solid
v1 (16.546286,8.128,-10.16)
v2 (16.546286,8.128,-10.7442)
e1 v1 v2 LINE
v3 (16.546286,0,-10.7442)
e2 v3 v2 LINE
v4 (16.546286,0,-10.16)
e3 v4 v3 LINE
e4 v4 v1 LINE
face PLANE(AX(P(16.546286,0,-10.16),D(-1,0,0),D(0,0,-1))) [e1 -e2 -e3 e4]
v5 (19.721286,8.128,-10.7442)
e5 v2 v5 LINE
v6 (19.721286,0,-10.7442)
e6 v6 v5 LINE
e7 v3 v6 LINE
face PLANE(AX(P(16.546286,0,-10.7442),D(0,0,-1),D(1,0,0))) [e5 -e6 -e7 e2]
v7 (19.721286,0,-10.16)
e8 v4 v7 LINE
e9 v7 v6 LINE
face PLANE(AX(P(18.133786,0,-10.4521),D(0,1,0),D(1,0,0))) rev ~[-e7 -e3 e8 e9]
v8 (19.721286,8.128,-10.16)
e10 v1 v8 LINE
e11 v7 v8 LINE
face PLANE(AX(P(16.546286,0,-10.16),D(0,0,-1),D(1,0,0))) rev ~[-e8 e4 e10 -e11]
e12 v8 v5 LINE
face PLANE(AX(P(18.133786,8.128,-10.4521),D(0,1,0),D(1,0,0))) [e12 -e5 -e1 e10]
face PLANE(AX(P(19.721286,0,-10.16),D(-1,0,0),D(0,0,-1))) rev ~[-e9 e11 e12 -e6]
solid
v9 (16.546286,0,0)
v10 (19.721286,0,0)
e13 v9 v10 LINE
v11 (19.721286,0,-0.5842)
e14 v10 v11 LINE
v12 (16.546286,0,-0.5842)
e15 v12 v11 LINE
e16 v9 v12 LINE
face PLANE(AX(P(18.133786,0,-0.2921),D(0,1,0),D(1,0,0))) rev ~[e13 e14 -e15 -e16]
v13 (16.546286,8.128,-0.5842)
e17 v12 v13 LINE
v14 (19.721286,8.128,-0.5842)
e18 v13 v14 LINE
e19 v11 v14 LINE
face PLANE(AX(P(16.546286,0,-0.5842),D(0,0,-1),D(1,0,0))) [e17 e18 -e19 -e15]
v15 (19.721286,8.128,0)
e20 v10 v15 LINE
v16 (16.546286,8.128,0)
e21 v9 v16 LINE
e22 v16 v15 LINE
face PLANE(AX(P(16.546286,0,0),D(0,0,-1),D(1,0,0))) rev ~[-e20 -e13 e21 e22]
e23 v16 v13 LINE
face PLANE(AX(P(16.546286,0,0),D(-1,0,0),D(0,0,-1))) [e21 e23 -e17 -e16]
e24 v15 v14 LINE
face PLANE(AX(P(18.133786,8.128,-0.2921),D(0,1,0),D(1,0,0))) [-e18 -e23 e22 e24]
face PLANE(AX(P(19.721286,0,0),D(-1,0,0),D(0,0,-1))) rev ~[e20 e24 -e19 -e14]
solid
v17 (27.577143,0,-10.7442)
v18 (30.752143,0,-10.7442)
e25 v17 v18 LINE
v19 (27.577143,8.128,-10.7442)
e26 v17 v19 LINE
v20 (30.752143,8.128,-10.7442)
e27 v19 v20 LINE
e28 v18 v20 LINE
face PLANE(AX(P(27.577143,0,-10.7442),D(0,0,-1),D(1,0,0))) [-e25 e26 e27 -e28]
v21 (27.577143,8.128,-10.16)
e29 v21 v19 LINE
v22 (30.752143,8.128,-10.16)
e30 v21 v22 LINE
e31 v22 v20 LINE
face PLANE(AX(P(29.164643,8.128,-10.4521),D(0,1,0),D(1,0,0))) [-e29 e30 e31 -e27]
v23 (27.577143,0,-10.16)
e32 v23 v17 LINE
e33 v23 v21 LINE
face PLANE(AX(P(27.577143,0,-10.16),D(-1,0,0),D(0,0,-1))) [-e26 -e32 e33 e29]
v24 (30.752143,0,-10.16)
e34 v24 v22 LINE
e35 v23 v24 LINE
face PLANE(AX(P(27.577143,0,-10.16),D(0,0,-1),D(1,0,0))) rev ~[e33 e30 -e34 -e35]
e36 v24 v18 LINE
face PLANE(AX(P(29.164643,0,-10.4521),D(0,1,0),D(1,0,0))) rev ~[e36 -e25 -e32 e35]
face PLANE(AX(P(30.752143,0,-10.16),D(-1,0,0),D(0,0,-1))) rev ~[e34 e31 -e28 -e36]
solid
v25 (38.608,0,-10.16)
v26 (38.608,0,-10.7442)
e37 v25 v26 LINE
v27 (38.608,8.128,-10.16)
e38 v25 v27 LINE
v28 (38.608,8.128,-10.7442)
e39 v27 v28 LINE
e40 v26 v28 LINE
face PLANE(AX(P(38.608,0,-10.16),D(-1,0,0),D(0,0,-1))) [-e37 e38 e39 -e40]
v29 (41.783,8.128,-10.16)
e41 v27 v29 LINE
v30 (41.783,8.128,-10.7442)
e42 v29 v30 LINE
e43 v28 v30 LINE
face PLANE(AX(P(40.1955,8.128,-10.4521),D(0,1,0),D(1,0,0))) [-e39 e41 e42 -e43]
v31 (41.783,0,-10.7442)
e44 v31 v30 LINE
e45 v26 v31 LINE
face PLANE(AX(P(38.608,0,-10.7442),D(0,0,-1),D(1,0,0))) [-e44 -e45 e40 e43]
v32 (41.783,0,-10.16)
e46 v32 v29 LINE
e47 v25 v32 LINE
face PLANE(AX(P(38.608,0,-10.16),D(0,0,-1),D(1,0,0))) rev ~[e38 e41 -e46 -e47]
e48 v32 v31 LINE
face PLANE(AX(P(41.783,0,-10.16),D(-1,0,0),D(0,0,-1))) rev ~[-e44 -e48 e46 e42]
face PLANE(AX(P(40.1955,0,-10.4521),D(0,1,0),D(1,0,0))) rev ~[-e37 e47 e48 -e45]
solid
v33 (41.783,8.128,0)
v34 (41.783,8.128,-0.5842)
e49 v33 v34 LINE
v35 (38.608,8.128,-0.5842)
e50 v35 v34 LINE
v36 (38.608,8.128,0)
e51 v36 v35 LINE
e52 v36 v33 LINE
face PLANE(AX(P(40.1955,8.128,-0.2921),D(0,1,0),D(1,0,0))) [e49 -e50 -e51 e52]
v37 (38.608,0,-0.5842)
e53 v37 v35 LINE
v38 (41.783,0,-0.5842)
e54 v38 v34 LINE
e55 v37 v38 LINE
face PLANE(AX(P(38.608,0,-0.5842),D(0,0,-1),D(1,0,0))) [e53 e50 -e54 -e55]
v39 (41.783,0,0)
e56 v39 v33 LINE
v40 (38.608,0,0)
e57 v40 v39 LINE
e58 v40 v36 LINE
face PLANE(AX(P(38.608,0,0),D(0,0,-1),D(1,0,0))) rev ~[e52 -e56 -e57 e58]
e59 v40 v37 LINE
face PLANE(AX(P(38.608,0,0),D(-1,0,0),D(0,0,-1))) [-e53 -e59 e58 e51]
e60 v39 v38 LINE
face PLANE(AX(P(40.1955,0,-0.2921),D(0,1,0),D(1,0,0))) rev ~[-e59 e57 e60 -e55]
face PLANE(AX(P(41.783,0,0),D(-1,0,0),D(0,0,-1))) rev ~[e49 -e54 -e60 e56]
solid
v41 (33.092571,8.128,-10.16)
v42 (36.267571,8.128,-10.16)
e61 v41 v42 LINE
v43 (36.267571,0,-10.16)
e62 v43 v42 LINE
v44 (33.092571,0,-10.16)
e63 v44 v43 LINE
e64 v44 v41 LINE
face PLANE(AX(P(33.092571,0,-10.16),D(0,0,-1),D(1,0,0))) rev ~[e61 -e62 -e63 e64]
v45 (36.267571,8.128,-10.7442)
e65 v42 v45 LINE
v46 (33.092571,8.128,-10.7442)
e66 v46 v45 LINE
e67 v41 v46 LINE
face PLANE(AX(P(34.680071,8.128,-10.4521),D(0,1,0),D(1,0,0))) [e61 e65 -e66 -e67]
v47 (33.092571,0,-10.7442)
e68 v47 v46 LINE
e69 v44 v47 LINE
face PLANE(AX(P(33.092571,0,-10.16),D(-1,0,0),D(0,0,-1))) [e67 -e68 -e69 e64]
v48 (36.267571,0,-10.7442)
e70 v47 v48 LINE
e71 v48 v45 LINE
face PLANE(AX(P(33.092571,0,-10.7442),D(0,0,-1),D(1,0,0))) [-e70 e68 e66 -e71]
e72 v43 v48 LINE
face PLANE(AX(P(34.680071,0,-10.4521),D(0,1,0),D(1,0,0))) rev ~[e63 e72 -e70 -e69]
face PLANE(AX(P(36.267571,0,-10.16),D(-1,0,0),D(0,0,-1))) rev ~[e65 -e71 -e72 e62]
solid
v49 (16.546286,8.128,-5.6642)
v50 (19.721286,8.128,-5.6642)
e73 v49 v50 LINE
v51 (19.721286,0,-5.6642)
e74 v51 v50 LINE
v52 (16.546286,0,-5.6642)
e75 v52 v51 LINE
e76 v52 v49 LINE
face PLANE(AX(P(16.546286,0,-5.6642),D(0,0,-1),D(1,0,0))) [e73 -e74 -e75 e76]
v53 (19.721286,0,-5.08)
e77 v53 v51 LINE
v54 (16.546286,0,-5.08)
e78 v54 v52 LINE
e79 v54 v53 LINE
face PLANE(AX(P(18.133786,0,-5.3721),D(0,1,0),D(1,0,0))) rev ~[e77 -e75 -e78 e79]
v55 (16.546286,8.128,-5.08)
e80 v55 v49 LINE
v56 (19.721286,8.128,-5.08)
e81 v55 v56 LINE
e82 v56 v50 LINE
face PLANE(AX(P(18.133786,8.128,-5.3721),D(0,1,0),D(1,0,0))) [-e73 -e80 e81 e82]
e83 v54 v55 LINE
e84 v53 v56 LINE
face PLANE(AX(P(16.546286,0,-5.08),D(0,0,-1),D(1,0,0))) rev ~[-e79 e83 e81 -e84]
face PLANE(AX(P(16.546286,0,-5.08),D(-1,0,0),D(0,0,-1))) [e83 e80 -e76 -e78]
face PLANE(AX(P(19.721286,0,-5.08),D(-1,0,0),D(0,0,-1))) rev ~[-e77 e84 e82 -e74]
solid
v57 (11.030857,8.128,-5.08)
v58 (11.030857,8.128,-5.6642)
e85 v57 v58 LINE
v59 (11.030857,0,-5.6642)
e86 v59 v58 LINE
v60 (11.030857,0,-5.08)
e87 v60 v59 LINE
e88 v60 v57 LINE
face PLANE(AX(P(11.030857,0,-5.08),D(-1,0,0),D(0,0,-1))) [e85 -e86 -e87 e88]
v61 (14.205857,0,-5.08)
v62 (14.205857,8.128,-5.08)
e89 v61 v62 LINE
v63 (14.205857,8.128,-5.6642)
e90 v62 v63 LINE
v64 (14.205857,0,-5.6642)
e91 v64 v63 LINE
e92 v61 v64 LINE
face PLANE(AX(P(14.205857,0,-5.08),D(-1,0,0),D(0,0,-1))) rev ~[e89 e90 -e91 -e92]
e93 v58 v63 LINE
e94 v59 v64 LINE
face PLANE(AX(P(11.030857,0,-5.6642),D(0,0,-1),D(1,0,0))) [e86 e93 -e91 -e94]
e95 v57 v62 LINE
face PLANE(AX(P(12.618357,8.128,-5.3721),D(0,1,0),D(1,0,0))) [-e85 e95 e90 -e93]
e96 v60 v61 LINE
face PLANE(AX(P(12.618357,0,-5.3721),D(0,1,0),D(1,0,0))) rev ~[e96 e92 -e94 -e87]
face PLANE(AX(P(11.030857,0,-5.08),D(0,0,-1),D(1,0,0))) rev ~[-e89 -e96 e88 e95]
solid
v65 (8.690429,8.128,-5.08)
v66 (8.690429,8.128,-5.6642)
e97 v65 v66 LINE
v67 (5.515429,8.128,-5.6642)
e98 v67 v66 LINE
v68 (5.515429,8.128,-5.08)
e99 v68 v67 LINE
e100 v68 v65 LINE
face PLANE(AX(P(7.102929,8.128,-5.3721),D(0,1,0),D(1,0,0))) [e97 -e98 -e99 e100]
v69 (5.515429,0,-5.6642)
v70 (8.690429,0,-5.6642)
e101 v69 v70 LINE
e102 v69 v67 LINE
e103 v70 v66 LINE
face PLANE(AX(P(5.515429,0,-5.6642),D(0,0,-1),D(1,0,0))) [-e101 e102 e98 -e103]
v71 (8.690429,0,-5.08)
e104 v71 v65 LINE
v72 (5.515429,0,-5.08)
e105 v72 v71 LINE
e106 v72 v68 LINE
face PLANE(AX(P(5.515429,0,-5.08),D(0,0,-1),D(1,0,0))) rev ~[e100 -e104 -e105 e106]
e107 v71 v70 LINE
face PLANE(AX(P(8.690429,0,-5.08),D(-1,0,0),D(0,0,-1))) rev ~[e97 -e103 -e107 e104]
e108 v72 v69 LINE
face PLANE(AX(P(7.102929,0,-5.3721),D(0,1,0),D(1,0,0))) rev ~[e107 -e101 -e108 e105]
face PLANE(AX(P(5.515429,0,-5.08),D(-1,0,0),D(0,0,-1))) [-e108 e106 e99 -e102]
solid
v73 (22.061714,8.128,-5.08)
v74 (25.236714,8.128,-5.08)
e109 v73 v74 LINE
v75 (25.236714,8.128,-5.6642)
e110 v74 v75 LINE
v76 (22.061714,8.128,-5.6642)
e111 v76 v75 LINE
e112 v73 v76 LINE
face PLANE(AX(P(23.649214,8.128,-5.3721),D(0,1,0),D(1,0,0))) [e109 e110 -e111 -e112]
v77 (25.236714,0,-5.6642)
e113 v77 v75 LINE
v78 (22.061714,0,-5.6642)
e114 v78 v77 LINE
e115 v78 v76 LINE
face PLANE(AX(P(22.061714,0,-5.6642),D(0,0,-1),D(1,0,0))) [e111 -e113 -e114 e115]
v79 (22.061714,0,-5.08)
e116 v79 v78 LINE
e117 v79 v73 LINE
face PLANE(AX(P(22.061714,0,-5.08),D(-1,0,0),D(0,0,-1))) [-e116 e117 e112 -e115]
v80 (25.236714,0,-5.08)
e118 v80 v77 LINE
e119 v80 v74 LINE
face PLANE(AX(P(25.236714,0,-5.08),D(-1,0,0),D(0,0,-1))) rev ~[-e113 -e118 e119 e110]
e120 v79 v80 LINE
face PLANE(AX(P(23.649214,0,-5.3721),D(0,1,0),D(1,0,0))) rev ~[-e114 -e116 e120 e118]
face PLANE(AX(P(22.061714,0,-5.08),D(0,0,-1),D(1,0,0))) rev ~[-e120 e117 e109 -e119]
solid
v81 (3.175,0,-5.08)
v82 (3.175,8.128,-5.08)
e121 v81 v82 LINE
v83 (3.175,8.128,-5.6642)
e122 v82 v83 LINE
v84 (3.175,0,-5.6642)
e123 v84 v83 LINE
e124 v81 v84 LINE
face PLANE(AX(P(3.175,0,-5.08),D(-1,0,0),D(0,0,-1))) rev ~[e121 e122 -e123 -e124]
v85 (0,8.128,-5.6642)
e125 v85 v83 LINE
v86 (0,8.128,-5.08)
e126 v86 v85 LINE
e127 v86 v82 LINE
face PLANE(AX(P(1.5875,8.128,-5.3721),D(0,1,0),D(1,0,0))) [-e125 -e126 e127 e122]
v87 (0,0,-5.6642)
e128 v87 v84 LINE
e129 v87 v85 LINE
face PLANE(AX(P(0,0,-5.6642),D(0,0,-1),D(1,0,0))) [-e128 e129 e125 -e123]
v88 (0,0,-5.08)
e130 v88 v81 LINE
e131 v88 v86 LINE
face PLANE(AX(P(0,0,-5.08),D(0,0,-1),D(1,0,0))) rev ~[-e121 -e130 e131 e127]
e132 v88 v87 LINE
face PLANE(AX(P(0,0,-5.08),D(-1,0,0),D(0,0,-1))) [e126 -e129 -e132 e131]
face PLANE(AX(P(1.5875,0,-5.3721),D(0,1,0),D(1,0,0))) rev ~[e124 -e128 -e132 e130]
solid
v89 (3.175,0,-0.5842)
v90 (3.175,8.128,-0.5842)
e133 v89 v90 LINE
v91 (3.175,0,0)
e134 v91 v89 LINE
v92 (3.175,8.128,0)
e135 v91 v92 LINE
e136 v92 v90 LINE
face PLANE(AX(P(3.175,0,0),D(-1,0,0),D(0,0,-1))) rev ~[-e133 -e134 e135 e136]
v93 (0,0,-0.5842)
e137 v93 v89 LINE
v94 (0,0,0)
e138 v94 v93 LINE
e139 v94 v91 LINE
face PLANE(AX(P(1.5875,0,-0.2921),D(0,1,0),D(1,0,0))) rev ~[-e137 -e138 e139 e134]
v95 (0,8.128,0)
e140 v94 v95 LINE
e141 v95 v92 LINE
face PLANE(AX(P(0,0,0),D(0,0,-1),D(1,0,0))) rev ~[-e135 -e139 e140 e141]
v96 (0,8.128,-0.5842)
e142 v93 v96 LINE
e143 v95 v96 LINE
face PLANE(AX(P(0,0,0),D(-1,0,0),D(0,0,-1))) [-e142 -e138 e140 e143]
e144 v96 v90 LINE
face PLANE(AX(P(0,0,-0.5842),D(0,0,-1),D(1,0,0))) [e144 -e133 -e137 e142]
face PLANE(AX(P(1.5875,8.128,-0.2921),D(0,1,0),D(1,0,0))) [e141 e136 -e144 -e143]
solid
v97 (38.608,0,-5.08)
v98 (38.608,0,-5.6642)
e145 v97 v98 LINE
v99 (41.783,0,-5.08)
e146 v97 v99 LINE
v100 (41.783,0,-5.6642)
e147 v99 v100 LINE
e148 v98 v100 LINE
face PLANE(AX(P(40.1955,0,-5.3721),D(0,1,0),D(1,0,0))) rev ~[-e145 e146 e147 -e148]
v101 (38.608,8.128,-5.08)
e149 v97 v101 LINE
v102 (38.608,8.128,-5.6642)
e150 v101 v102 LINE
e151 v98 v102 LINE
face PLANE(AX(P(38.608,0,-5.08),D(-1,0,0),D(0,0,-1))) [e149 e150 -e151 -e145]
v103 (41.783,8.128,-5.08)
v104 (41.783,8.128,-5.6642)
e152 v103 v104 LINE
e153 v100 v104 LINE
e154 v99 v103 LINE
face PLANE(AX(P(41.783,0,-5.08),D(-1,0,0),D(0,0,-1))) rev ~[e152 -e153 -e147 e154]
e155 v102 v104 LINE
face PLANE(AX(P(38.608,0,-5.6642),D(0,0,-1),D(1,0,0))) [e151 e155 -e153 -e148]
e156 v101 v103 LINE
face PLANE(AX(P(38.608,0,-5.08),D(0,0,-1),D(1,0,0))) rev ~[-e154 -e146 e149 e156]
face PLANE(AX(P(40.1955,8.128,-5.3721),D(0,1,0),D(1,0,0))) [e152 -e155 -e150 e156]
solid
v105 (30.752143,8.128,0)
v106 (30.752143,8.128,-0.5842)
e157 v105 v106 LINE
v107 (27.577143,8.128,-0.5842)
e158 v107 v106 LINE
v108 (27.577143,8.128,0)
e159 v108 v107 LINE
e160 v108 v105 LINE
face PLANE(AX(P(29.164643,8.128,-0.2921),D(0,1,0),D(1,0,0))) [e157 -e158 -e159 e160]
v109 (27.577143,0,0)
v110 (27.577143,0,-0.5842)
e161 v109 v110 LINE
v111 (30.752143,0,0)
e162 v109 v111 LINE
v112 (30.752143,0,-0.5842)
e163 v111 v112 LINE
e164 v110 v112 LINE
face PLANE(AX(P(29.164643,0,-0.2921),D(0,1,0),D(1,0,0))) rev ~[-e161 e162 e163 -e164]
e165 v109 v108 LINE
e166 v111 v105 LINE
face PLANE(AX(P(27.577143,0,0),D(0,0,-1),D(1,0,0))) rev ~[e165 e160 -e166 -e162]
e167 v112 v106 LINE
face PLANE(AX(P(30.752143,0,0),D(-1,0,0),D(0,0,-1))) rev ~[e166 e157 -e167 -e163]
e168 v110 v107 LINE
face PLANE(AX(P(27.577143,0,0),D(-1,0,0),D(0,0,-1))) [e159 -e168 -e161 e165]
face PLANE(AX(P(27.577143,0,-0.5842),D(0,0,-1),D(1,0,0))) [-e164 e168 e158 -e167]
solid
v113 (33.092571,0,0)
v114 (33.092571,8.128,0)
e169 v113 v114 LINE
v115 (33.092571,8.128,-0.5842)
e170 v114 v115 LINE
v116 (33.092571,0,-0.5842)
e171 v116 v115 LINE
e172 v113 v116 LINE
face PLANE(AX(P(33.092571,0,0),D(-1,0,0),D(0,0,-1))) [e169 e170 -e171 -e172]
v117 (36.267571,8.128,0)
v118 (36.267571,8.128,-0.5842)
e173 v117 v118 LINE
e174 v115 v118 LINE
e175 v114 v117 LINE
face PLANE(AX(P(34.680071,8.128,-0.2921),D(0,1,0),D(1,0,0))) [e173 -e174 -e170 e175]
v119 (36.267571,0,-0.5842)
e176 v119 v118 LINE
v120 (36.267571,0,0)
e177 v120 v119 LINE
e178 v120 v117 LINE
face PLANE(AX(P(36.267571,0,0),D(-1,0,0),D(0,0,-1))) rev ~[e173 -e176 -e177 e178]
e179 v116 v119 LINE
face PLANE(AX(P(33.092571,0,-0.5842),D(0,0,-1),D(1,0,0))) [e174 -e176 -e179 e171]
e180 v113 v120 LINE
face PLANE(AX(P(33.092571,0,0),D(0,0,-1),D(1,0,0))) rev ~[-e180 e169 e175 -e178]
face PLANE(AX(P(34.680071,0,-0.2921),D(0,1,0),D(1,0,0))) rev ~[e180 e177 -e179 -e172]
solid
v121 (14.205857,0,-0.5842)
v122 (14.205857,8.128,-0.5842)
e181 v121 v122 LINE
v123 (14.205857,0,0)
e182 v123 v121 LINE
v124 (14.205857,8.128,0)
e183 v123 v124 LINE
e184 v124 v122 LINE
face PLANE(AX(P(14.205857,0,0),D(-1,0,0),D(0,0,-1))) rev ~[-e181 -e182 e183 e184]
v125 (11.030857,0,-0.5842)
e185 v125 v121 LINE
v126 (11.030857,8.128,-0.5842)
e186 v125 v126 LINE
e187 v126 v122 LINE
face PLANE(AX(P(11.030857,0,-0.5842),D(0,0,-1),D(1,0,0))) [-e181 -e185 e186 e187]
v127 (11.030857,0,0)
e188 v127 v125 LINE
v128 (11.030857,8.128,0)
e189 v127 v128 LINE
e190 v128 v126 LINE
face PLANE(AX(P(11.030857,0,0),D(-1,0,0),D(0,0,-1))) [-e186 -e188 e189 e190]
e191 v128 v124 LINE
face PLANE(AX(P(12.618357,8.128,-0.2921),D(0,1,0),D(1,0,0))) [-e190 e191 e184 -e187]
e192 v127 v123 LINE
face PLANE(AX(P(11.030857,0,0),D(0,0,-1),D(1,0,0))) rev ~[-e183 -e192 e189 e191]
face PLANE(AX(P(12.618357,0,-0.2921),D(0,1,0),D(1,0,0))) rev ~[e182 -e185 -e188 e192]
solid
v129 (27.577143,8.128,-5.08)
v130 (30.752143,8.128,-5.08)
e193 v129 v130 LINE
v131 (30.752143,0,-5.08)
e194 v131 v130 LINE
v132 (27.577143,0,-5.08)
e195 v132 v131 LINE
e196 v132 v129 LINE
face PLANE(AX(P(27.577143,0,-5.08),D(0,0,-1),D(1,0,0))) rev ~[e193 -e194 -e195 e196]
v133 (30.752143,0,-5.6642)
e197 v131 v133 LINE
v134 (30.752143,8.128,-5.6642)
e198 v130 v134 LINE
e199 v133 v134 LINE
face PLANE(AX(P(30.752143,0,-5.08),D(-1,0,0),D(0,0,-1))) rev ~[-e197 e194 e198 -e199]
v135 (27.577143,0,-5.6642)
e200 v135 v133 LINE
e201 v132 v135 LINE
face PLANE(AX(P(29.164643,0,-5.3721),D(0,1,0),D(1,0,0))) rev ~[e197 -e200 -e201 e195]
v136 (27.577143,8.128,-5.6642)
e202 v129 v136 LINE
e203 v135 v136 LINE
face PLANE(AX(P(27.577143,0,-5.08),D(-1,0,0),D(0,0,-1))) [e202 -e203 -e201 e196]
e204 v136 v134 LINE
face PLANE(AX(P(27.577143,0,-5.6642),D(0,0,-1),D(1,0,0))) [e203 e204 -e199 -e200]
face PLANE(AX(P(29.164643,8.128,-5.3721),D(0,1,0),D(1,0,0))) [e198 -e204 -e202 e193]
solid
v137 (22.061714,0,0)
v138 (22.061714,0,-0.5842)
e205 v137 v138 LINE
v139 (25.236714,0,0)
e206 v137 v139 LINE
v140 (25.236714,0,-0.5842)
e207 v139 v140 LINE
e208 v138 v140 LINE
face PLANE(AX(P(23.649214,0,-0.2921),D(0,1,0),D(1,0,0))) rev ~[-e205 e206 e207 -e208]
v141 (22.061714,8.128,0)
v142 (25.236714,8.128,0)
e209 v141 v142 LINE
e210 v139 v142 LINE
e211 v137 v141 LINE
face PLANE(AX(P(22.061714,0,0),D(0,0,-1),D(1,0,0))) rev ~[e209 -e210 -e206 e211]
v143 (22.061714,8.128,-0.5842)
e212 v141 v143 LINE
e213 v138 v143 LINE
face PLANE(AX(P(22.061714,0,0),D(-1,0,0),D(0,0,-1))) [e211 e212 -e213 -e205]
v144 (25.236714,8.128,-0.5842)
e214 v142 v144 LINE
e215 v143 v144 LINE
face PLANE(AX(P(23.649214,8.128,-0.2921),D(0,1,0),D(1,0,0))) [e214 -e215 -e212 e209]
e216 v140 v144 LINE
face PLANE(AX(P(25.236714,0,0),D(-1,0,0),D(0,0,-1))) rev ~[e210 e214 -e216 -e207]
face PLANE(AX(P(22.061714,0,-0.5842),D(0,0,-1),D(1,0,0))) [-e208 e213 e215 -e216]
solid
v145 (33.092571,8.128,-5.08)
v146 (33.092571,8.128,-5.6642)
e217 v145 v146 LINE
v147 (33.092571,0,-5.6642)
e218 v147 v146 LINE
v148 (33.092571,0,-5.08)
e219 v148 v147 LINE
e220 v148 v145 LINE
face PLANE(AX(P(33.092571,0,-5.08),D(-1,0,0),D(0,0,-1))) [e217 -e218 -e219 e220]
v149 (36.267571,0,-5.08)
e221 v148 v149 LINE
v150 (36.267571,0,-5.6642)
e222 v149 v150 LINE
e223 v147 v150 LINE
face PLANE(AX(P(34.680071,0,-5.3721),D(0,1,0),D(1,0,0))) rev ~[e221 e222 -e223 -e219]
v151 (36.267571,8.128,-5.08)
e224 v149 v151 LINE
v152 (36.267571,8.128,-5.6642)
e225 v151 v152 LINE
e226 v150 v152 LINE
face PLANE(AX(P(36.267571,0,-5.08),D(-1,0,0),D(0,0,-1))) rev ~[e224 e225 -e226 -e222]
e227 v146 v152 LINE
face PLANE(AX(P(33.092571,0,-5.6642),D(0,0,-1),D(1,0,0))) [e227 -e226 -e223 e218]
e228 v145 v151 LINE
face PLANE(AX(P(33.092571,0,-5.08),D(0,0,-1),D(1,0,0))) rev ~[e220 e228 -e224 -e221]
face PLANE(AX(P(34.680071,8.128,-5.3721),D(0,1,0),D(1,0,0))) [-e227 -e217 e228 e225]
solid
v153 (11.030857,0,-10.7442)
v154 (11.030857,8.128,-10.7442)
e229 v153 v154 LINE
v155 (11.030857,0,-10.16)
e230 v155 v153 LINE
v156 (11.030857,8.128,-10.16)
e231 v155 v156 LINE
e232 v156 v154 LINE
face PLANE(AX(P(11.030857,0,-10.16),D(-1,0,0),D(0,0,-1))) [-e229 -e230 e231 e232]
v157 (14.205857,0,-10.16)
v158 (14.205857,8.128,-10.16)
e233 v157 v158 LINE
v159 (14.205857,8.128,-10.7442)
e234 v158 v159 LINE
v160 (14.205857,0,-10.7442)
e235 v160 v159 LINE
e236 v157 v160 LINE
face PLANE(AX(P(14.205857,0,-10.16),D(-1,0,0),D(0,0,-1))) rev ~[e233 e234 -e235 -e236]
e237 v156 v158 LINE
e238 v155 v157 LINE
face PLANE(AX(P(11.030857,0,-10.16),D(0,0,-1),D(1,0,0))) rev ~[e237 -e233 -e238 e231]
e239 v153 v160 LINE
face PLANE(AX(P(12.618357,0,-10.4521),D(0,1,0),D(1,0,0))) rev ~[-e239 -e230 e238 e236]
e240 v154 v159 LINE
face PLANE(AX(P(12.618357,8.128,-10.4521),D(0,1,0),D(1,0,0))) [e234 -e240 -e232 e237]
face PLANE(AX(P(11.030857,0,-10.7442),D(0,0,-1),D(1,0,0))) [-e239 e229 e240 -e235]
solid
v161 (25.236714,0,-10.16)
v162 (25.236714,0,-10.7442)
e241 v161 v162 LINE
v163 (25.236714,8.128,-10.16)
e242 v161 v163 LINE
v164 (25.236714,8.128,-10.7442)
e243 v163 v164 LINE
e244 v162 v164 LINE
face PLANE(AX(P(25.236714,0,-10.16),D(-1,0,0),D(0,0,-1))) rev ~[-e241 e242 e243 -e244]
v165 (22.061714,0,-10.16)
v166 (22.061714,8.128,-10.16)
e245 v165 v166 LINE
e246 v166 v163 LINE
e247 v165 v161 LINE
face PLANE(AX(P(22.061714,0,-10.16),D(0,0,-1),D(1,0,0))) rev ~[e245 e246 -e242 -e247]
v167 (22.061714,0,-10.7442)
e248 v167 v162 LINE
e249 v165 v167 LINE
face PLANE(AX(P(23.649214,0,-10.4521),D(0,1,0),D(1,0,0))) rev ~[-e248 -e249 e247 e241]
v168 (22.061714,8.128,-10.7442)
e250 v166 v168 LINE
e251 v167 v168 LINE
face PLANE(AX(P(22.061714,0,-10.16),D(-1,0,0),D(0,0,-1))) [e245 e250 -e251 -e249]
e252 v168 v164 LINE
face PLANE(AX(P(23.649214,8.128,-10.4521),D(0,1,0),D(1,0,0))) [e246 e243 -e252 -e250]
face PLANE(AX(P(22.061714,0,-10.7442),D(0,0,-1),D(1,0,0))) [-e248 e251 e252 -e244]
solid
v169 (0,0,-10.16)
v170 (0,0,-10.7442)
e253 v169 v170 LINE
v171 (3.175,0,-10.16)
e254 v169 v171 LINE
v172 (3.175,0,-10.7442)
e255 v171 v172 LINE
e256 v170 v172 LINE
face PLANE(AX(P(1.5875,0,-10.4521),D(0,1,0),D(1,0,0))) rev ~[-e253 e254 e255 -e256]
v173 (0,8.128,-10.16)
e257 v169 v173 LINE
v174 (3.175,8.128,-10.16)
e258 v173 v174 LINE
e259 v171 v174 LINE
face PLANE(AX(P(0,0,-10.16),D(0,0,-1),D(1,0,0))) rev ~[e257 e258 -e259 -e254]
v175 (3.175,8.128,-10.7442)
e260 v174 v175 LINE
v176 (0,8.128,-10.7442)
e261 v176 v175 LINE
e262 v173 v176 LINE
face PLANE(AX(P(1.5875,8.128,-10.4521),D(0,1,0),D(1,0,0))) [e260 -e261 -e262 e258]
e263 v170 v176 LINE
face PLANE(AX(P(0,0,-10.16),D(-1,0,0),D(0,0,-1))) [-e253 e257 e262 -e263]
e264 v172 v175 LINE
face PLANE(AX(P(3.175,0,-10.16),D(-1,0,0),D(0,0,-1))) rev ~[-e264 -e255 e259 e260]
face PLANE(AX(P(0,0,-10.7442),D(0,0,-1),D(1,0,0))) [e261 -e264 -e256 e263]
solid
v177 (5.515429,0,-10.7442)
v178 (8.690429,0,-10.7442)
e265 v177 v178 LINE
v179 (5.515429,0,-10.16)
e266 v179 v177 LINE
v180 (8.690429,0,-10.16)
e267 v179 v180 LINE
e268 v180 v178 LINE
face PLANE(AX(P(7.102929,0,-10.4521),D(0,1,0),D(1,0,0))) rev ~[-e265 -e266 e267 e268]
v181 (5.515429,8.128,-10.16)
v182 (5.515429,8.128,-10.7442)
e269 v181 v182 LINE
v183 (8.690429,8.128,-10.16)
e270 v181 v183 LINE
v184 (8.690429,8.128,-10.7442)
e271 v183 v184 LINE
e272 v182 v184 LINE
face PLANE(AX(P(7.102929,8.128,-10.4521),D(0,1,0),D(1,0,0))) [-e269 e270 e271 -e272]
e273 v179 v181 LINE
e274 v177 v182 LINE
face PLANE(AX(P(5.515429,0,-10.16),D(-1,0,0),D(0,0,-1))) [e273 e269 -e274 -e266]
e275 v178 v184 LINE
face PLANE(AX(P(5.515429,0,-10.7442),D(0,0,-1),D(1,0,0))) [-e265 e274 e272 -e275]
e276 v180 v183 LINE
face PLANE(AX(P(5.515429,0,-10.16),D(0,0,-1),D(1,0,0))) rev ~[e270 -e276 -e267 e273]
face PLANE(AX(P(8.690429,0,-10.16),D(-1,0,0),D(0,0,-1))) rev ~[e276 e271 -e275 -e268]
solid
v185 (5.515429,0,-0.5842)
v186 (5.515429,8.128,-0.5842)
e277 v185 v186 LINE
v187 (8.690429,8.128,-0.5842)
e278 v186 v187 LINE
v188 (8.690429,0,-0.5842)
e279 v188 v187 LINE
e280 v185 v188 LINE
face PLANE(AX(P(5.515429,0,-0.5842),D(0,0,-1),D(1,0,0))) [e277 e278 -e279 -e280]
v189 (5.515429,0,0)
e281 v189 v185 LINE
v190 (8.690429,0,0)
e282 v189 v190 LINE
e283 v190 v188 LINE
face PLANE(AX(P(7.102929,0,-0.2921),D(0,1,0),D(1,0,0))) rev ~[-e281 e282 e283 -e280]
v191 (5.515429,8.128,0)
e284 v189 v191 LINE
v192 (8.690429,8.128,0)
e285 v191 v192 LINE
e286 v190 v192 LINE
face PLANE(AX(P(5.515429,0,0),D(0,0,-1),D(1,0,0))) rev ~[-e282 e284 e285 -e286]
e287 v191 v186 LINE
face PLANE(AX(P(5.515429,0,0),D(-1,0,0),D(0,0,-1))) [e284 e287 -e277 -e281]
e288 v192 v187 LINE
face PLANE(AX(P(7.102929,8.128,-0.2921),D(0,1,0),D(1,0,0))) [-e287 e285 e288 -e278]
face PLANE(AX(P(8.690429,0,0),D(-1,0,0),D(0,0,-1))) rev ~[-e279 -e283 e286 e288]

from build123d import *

# Parameters (mm, degrees)
SKETCH1_W              = 3.175
SKETCH1_H              = 0.5842
BOSS_EXTRUDE1_DEPTH    = 8.128
BOSS_EXTRUDE1_2_DEPTH  = 8.128
BOSS_EXTRUDE1_3_DEPTH  = 8.128
BOSS_EXTRUDE1_4_DEPTH  = 8.128
BOSS_EXTRUDE1_5_DEPTH  = 8.128
BOSS_EXTRUDE1_6_DEPTH  = 8.128
BOSS_EXTRUDE1_7_DEPTH  = 8.128
BOSS_EXTRUDE1_8_DEPTH  = 8.128
BOSS_EXTRUDE1_9_DEPTH  = 8.128
BOSS_EXTRUDE1_10_DEPTH = 8.128
BOSS_EXTRUDE1_11_DEPTH = 8.128
BOSS_EXTRUDE1_12_DEPTH = 8.128
BOSS_EXTRUDE1_13_DEPTH = 8.128
BOSS_EXTRUDE1_14_DEPTH = 8.128
BOSS_EXTRUDE1_15_DEPTH = 8.128
BOSS_EXTRUDE1_16_DEPTH = 8.128
BOSS_EXTRUDE1_17_DEPTH = 8.128
BOSS_EXTRUDE1_18_DEPTH = 8.128
BOSS_EXTRUDE1_19_DEPTH = 8.128
BOSS_EXTRUDE1_20_DEPTH = 8.128
BOSS_EXTRUDE1_21_DEPTH = 8.128
BOSS_EXTRUDE1_22_DEPTH = 8.128
BOSS_EXTRUDE1_23_DEPTH = 8.128
BOSS_EXTRUDE1_24_DEPTH = 8.128


with BuildPart() as part:
    # Sketch1 → Boss-Extrude1 (new body)
    with BuildSketch(Plane(origin=(0, 0, 0), x_dir=(1, 0, 0), z_dir=(0, 1, 0))):
        with Locations((7.102928571, 0.2921)):
            Rectangle(SKETCH1_W, SKETCH1_H)
    extrude(amount=BOSS_EXTRUDE1_DEPTH)


with BuildPart() as body_2:
    # Sketch1 → Boss-Extrude1 2 (new body)
    with BuildSketch(Plane(origin=(0, 0, 0), x_dir=(1, 0, 0), z_dir=(0, 1, 0))):
        with Locations((1.5875, 0.2921)):
            Rectangle(SKETCH1_W, SKETCH1_H)
    extrude(amount=BOSS_EXTRUDE1_2_DEPTH)


with BuildPart() as body_3:
    # Sketch1 → Boss-Extrude1 3 (new body)
    with BuildSketch(Plane(origin=(0, 0, 0), x_dir=(1, 0, 0), z_dir=(0, 1, 0))):
        with Locations((12.618357143, 0.2921)):
            Rectangle(SKETCH1_W, SKETCH1_H)
    extrude(amount=BOSS_EXTRUDE1_3_DEPTH)


with BuildPart() as body_4:
    # Sketch1 → Boss-Extrude1 4 (new body)
    with BuildSketch(Plane(origin=(0, 0, 0), x_dir=(1, 0, 0), z_dir=(0, 1, 0))):
        with Locations((18.133785714, 0.2921)):
            Rectangle(SKETCH1_W, SKETCH1_H)
    extrude(amount=BOSS_EXTRUDE1_4_DEPTH)


with BuildPart() as body_5:
    # Sketch1 → Boss-Extrude1 5 (new body)
    with BuildSketch(Plane(origin=(0, 0, 0), x_dir=(1, 0, 0), z_dir=(0, 1, 0))):
        with Locations((23.649214286, 0.2921)):
            Rectangle(SKETCH1_W, SKETCH1_H)
    extrude(amount=BOSS_EXTRUDE1_5_DEPTH)


with BuildPart() as body_6:
    # Sketch1 → Boss-Extrude1 6 (new body)
    with BuildSketch(Plane(origin=(0, 0, 0), x_dir=(1, 0, 0), z_dir=(0, 1, 0))):
        with Locations((29.164642857, 0.2921)):
            Rectangle(SKETCH1_W, SKETCH1_H)
    extrude(amount=BOSS_EXTRUDE1_6_DEPTH)


with BuildPart() as body_7:
    # Sketch1 → Boss-Extrude1 7 (new body)
    with BuildSketch(Plane(origin=(0, 0, 0), x_dir=(1, 0, 0), z_dir=(0, 1, 0))):
        with Locations((34.680071429, 0.2921)):
            Rectangle(SKETCH1_W, SKETCH1_H)
    extrude(amount=BOSS_EXTRUDE1_7_DEPTH)


with BuildPart() as body_8:
    # Sketch1 → Boss-Extrude1 8 (new body)
    with BuildSketch(Plane(origin=(0, 0, 0), x_dir=(1, 0, 0), z_dir=(0, 1, 0))):
        with Locations((40.1955, 0.2921)):
            Rectangle(SKETCH1_W, SKETCH1_H)
    extrude(amount=BOSS_EXTRUDE1_8_DEPTH)


with BuildPart() as body_9:
    # Sketch1 → Boss-Extrude1 9 (new body)
    with BuildSketch(Plane(origin=(0, 0, 0), x_dir=(1, 0, 0), z_dir=(0, 1, 0))):
        with Locations((7.102928571, 5.3721)):
            Rectangle(SKETCH1_W, SKETCH1_H)
    extrude(amount=BOSS_EXTRUDE1_9_DEPTH)


with BuildPart() as body_10:
    # Sketch1 → Boss-Extrude1 10 (new body)
    with BuildSketch(Plane(origin=(0, 0, 0), x_dir=(1, 0, 0), z_dir=(0, 1, 0))):
        with Locations((1.5875, 5.3721)):
            Rectangle(SKETCH1_W, SKETCH1_H)
    extrude(amount=BOSS_EXTRUDE1_10_DEPTH)


with BuildPart() as body_11:
    # Sketch1 → Boss-Extrude1 11 (new body)
    with BuildSketch(Plane(origin=(0, 0, 0), x_dir=(1, 0, 0), z_dir=(0, 1, 0))):
        with Locations((12.618357143, 5.3721)):
            Rectangle(SKETCH1_W, SKETCH1_H)
    extrude(amount=BOSS_EXTRUDE1_11_DEPTH)


with BuildPart() as body_12:
    # Sketch1 → Boss-Extrude1 12 (new body)
    with BuildSketch(Plane(origin=(0, 0, 0), x_dir=(1, 0, 0), z_dir=(0, 1, 0))):
        with Locations((18.133785714, 5.3721)):
            Rectangle(SKETCH1_W, SKETCH1_H)
    extrude(amount=BOSS_EXTRUDE1_12_DEPTH)


with BuildPart() as body_13:
    # Sketch1 → Boss-Extrude1 13 (new body)
    with BuildSketch(Plane(origin=(0, 0, 0), x_dir=(1, 0, 0), z_dir=(0, 1, 0))):
        with Locations((23.649214286, 5.3721)):
            Rectangle(SKETCH1_W, SKETCH1_H)
    extrude(amount=BOSS_EXTRUDE1_13_DEPTH)


with BuildPart() as body_14:
    # Sketch1 → Boss-Extrude1 14 (new body)
    with BuildSketch(Plane(origin=(0, 0, 0), x_dir=(1, 0, 0), z_dir=(0, 1, 0))):
        with Locations((29.164642857, 5.3721)):
            Rectangle(SKETCH1_W, SKETCH1_H)
    extrude(amount=BOSS_EXTRUDE1_14_DEPTH)


with BuildPart() as body_15:
    # Sketch1 → Boss-Extrude1 15 (new body)
    with BuildSketch(Plane(origin=(0, 0, 0), x_dir=(1, 0, 0), z_dir=(0, 1, 0))):
        with Locations((34.680071429, 5.3721)):
            Rectangle(SKETCH1_W, SKETCH1_H)
    extrude(amount=BOSS_EXTRUDE1_15_DEPTH)


with BuildPart() as body_16:
    # Sketch1 → Boss-Extrude1 16 (new body)
    with BuildSketch(Plane(origin=(0, 0, 0), x_dir=(1, 0, 0), z_dir=(0, 1, 0))):
        with Locations((40.1955, 5.3721)):
            Rectangle(SKETCH1_W, SKETCH1_H)
    extrude(amount=BOSS_EXTRUDE1_16_DEPTH)


with BuildPart() as body_17:
    # Sketch1 → Boss-Extrude1 17 (new body)
    with BuildSketch(Plane(origin=(0, 0, 0), x_dir=(1, 0, 0), z_dir=(0, 1, 0))):
        with Locations((7.102928571, 10.4521)):
            Rectangle(SKETCH1_W, SKETCH1_H)
    extrude(amount=BOSS_EXTRUDE1_17_DEPTH)


with BuildPart() as body_18:
    # Sketch1 → Boss-Extrude1 18 (new body)
    with BuildSketch(Plane(origin=(0, 0, 0), x_dir=(1, 0, 0), z_dir=(0, 1, 0))):
        with Locations((1.5875, 10.4521)):
            Rectangle(SKETCH1_W, SKETCH1_H)
    extrude(amount=BOSS_EXTRUDE1_18_DEPTH)


with BuildPart() as body_19:
    # Sketch1 → Boss-Extrude1 19 (new body)
    with BuildSketch(Plane(origin=(0, 0, 0), x_dir=(1, 0, 0), z_dir=(0, 1, 0))):
        with Locations((12.618357143, 10.4521)):
            Rectangle(SKETCH1_W, SKETCH1_H)
    extrude(amount=BOSS_EXTRUDE1_19_DEPTH)


with BuildPart() as body_20:
    # Sketch1 → Boss-Extrude1 20 (new body)
    with BuildSketch(Plane(origin=(0, 0, 0), x_dir=(1, 0, 0), z_dir=(0, 1, 0))):
        with Locations((18.133785714, 10.4521)):
            Rectangle(SKETCH1_W, SKETCH1_H)
    extrude(amount=BOSS_EXTRUDE1_20_DEPTH)


with BuildPart() as body_21:
    # Sketch1 → Boss-Extrude1 21 (new body)
    with BuildSketch(Plane(origin=(0, 0, 0), x_dir=(1, 0, 0), z_dir=(0, 1, 0))):
        with Locations((23.649214286, 10.4521)):
            Rectangle(SKETCH1_W, SKETCH1_H)
    extrude(amount=BOSS_EXTRUDE1_21_DEPTH)


with BuildPart() as body_22:
    # Sketch1 → Boss-Extrude1 22 (new body)
    with BuildSketch(Plane(origin=(0, 0, 0), x_dir=(1, 0, 0), z_dir=(0, 1, 0))):
        with Locations((29.164642857, 10.4521)):
            Rectangle(SKETCH1_W, SKETCH1_H)
    extrude(amount=BOSS_EXTRUDE1_22_DEPTH)


with BuildPart() as body_23:
    # Sketch1 → Boss-Extrude1 23 (new body)
    with BuildSketch(Plane(origin=(0, 0, 0), x_dir=(1, 0, 0), z_dir=(0, 1, 0))):
        with Locations((34.680071429, 10.4521)):
            Rectangle(SKETCH1_W, SKETCH1_H)
    extrude(amount=BOSS_EXTRUDE1_23_DEPTH)


with BuildPart() as body_24:
    # Sketch1 → Boss-Extrude1 24 (new body)
    with BuildSketch(Plane(origin=(0, 0, 0), x_dir=(1, 0, 0), z_dir=(0, 1, 0))):
        with Locations((40.1955, 10.4521)):
            Rectangle(SKETCH1_W, SKETCH1_H)
    extrude(amount=BOSS_EXTRUDE1_24_DEPTH)


solid = Compound([part.part, body_2.part, body_3.part, body_4.part, body_5.part, body_6.part, body_7.part, body_8.part, body_9.part, body_10.part, body_11.part, body_12.part, body_13.part, body_14.part, body_15.part, body_16.part, body_17.part, body_18.part, body_19.part, body_20.part, body_21.part, body_22.part, body_23.part, body_24.part])
